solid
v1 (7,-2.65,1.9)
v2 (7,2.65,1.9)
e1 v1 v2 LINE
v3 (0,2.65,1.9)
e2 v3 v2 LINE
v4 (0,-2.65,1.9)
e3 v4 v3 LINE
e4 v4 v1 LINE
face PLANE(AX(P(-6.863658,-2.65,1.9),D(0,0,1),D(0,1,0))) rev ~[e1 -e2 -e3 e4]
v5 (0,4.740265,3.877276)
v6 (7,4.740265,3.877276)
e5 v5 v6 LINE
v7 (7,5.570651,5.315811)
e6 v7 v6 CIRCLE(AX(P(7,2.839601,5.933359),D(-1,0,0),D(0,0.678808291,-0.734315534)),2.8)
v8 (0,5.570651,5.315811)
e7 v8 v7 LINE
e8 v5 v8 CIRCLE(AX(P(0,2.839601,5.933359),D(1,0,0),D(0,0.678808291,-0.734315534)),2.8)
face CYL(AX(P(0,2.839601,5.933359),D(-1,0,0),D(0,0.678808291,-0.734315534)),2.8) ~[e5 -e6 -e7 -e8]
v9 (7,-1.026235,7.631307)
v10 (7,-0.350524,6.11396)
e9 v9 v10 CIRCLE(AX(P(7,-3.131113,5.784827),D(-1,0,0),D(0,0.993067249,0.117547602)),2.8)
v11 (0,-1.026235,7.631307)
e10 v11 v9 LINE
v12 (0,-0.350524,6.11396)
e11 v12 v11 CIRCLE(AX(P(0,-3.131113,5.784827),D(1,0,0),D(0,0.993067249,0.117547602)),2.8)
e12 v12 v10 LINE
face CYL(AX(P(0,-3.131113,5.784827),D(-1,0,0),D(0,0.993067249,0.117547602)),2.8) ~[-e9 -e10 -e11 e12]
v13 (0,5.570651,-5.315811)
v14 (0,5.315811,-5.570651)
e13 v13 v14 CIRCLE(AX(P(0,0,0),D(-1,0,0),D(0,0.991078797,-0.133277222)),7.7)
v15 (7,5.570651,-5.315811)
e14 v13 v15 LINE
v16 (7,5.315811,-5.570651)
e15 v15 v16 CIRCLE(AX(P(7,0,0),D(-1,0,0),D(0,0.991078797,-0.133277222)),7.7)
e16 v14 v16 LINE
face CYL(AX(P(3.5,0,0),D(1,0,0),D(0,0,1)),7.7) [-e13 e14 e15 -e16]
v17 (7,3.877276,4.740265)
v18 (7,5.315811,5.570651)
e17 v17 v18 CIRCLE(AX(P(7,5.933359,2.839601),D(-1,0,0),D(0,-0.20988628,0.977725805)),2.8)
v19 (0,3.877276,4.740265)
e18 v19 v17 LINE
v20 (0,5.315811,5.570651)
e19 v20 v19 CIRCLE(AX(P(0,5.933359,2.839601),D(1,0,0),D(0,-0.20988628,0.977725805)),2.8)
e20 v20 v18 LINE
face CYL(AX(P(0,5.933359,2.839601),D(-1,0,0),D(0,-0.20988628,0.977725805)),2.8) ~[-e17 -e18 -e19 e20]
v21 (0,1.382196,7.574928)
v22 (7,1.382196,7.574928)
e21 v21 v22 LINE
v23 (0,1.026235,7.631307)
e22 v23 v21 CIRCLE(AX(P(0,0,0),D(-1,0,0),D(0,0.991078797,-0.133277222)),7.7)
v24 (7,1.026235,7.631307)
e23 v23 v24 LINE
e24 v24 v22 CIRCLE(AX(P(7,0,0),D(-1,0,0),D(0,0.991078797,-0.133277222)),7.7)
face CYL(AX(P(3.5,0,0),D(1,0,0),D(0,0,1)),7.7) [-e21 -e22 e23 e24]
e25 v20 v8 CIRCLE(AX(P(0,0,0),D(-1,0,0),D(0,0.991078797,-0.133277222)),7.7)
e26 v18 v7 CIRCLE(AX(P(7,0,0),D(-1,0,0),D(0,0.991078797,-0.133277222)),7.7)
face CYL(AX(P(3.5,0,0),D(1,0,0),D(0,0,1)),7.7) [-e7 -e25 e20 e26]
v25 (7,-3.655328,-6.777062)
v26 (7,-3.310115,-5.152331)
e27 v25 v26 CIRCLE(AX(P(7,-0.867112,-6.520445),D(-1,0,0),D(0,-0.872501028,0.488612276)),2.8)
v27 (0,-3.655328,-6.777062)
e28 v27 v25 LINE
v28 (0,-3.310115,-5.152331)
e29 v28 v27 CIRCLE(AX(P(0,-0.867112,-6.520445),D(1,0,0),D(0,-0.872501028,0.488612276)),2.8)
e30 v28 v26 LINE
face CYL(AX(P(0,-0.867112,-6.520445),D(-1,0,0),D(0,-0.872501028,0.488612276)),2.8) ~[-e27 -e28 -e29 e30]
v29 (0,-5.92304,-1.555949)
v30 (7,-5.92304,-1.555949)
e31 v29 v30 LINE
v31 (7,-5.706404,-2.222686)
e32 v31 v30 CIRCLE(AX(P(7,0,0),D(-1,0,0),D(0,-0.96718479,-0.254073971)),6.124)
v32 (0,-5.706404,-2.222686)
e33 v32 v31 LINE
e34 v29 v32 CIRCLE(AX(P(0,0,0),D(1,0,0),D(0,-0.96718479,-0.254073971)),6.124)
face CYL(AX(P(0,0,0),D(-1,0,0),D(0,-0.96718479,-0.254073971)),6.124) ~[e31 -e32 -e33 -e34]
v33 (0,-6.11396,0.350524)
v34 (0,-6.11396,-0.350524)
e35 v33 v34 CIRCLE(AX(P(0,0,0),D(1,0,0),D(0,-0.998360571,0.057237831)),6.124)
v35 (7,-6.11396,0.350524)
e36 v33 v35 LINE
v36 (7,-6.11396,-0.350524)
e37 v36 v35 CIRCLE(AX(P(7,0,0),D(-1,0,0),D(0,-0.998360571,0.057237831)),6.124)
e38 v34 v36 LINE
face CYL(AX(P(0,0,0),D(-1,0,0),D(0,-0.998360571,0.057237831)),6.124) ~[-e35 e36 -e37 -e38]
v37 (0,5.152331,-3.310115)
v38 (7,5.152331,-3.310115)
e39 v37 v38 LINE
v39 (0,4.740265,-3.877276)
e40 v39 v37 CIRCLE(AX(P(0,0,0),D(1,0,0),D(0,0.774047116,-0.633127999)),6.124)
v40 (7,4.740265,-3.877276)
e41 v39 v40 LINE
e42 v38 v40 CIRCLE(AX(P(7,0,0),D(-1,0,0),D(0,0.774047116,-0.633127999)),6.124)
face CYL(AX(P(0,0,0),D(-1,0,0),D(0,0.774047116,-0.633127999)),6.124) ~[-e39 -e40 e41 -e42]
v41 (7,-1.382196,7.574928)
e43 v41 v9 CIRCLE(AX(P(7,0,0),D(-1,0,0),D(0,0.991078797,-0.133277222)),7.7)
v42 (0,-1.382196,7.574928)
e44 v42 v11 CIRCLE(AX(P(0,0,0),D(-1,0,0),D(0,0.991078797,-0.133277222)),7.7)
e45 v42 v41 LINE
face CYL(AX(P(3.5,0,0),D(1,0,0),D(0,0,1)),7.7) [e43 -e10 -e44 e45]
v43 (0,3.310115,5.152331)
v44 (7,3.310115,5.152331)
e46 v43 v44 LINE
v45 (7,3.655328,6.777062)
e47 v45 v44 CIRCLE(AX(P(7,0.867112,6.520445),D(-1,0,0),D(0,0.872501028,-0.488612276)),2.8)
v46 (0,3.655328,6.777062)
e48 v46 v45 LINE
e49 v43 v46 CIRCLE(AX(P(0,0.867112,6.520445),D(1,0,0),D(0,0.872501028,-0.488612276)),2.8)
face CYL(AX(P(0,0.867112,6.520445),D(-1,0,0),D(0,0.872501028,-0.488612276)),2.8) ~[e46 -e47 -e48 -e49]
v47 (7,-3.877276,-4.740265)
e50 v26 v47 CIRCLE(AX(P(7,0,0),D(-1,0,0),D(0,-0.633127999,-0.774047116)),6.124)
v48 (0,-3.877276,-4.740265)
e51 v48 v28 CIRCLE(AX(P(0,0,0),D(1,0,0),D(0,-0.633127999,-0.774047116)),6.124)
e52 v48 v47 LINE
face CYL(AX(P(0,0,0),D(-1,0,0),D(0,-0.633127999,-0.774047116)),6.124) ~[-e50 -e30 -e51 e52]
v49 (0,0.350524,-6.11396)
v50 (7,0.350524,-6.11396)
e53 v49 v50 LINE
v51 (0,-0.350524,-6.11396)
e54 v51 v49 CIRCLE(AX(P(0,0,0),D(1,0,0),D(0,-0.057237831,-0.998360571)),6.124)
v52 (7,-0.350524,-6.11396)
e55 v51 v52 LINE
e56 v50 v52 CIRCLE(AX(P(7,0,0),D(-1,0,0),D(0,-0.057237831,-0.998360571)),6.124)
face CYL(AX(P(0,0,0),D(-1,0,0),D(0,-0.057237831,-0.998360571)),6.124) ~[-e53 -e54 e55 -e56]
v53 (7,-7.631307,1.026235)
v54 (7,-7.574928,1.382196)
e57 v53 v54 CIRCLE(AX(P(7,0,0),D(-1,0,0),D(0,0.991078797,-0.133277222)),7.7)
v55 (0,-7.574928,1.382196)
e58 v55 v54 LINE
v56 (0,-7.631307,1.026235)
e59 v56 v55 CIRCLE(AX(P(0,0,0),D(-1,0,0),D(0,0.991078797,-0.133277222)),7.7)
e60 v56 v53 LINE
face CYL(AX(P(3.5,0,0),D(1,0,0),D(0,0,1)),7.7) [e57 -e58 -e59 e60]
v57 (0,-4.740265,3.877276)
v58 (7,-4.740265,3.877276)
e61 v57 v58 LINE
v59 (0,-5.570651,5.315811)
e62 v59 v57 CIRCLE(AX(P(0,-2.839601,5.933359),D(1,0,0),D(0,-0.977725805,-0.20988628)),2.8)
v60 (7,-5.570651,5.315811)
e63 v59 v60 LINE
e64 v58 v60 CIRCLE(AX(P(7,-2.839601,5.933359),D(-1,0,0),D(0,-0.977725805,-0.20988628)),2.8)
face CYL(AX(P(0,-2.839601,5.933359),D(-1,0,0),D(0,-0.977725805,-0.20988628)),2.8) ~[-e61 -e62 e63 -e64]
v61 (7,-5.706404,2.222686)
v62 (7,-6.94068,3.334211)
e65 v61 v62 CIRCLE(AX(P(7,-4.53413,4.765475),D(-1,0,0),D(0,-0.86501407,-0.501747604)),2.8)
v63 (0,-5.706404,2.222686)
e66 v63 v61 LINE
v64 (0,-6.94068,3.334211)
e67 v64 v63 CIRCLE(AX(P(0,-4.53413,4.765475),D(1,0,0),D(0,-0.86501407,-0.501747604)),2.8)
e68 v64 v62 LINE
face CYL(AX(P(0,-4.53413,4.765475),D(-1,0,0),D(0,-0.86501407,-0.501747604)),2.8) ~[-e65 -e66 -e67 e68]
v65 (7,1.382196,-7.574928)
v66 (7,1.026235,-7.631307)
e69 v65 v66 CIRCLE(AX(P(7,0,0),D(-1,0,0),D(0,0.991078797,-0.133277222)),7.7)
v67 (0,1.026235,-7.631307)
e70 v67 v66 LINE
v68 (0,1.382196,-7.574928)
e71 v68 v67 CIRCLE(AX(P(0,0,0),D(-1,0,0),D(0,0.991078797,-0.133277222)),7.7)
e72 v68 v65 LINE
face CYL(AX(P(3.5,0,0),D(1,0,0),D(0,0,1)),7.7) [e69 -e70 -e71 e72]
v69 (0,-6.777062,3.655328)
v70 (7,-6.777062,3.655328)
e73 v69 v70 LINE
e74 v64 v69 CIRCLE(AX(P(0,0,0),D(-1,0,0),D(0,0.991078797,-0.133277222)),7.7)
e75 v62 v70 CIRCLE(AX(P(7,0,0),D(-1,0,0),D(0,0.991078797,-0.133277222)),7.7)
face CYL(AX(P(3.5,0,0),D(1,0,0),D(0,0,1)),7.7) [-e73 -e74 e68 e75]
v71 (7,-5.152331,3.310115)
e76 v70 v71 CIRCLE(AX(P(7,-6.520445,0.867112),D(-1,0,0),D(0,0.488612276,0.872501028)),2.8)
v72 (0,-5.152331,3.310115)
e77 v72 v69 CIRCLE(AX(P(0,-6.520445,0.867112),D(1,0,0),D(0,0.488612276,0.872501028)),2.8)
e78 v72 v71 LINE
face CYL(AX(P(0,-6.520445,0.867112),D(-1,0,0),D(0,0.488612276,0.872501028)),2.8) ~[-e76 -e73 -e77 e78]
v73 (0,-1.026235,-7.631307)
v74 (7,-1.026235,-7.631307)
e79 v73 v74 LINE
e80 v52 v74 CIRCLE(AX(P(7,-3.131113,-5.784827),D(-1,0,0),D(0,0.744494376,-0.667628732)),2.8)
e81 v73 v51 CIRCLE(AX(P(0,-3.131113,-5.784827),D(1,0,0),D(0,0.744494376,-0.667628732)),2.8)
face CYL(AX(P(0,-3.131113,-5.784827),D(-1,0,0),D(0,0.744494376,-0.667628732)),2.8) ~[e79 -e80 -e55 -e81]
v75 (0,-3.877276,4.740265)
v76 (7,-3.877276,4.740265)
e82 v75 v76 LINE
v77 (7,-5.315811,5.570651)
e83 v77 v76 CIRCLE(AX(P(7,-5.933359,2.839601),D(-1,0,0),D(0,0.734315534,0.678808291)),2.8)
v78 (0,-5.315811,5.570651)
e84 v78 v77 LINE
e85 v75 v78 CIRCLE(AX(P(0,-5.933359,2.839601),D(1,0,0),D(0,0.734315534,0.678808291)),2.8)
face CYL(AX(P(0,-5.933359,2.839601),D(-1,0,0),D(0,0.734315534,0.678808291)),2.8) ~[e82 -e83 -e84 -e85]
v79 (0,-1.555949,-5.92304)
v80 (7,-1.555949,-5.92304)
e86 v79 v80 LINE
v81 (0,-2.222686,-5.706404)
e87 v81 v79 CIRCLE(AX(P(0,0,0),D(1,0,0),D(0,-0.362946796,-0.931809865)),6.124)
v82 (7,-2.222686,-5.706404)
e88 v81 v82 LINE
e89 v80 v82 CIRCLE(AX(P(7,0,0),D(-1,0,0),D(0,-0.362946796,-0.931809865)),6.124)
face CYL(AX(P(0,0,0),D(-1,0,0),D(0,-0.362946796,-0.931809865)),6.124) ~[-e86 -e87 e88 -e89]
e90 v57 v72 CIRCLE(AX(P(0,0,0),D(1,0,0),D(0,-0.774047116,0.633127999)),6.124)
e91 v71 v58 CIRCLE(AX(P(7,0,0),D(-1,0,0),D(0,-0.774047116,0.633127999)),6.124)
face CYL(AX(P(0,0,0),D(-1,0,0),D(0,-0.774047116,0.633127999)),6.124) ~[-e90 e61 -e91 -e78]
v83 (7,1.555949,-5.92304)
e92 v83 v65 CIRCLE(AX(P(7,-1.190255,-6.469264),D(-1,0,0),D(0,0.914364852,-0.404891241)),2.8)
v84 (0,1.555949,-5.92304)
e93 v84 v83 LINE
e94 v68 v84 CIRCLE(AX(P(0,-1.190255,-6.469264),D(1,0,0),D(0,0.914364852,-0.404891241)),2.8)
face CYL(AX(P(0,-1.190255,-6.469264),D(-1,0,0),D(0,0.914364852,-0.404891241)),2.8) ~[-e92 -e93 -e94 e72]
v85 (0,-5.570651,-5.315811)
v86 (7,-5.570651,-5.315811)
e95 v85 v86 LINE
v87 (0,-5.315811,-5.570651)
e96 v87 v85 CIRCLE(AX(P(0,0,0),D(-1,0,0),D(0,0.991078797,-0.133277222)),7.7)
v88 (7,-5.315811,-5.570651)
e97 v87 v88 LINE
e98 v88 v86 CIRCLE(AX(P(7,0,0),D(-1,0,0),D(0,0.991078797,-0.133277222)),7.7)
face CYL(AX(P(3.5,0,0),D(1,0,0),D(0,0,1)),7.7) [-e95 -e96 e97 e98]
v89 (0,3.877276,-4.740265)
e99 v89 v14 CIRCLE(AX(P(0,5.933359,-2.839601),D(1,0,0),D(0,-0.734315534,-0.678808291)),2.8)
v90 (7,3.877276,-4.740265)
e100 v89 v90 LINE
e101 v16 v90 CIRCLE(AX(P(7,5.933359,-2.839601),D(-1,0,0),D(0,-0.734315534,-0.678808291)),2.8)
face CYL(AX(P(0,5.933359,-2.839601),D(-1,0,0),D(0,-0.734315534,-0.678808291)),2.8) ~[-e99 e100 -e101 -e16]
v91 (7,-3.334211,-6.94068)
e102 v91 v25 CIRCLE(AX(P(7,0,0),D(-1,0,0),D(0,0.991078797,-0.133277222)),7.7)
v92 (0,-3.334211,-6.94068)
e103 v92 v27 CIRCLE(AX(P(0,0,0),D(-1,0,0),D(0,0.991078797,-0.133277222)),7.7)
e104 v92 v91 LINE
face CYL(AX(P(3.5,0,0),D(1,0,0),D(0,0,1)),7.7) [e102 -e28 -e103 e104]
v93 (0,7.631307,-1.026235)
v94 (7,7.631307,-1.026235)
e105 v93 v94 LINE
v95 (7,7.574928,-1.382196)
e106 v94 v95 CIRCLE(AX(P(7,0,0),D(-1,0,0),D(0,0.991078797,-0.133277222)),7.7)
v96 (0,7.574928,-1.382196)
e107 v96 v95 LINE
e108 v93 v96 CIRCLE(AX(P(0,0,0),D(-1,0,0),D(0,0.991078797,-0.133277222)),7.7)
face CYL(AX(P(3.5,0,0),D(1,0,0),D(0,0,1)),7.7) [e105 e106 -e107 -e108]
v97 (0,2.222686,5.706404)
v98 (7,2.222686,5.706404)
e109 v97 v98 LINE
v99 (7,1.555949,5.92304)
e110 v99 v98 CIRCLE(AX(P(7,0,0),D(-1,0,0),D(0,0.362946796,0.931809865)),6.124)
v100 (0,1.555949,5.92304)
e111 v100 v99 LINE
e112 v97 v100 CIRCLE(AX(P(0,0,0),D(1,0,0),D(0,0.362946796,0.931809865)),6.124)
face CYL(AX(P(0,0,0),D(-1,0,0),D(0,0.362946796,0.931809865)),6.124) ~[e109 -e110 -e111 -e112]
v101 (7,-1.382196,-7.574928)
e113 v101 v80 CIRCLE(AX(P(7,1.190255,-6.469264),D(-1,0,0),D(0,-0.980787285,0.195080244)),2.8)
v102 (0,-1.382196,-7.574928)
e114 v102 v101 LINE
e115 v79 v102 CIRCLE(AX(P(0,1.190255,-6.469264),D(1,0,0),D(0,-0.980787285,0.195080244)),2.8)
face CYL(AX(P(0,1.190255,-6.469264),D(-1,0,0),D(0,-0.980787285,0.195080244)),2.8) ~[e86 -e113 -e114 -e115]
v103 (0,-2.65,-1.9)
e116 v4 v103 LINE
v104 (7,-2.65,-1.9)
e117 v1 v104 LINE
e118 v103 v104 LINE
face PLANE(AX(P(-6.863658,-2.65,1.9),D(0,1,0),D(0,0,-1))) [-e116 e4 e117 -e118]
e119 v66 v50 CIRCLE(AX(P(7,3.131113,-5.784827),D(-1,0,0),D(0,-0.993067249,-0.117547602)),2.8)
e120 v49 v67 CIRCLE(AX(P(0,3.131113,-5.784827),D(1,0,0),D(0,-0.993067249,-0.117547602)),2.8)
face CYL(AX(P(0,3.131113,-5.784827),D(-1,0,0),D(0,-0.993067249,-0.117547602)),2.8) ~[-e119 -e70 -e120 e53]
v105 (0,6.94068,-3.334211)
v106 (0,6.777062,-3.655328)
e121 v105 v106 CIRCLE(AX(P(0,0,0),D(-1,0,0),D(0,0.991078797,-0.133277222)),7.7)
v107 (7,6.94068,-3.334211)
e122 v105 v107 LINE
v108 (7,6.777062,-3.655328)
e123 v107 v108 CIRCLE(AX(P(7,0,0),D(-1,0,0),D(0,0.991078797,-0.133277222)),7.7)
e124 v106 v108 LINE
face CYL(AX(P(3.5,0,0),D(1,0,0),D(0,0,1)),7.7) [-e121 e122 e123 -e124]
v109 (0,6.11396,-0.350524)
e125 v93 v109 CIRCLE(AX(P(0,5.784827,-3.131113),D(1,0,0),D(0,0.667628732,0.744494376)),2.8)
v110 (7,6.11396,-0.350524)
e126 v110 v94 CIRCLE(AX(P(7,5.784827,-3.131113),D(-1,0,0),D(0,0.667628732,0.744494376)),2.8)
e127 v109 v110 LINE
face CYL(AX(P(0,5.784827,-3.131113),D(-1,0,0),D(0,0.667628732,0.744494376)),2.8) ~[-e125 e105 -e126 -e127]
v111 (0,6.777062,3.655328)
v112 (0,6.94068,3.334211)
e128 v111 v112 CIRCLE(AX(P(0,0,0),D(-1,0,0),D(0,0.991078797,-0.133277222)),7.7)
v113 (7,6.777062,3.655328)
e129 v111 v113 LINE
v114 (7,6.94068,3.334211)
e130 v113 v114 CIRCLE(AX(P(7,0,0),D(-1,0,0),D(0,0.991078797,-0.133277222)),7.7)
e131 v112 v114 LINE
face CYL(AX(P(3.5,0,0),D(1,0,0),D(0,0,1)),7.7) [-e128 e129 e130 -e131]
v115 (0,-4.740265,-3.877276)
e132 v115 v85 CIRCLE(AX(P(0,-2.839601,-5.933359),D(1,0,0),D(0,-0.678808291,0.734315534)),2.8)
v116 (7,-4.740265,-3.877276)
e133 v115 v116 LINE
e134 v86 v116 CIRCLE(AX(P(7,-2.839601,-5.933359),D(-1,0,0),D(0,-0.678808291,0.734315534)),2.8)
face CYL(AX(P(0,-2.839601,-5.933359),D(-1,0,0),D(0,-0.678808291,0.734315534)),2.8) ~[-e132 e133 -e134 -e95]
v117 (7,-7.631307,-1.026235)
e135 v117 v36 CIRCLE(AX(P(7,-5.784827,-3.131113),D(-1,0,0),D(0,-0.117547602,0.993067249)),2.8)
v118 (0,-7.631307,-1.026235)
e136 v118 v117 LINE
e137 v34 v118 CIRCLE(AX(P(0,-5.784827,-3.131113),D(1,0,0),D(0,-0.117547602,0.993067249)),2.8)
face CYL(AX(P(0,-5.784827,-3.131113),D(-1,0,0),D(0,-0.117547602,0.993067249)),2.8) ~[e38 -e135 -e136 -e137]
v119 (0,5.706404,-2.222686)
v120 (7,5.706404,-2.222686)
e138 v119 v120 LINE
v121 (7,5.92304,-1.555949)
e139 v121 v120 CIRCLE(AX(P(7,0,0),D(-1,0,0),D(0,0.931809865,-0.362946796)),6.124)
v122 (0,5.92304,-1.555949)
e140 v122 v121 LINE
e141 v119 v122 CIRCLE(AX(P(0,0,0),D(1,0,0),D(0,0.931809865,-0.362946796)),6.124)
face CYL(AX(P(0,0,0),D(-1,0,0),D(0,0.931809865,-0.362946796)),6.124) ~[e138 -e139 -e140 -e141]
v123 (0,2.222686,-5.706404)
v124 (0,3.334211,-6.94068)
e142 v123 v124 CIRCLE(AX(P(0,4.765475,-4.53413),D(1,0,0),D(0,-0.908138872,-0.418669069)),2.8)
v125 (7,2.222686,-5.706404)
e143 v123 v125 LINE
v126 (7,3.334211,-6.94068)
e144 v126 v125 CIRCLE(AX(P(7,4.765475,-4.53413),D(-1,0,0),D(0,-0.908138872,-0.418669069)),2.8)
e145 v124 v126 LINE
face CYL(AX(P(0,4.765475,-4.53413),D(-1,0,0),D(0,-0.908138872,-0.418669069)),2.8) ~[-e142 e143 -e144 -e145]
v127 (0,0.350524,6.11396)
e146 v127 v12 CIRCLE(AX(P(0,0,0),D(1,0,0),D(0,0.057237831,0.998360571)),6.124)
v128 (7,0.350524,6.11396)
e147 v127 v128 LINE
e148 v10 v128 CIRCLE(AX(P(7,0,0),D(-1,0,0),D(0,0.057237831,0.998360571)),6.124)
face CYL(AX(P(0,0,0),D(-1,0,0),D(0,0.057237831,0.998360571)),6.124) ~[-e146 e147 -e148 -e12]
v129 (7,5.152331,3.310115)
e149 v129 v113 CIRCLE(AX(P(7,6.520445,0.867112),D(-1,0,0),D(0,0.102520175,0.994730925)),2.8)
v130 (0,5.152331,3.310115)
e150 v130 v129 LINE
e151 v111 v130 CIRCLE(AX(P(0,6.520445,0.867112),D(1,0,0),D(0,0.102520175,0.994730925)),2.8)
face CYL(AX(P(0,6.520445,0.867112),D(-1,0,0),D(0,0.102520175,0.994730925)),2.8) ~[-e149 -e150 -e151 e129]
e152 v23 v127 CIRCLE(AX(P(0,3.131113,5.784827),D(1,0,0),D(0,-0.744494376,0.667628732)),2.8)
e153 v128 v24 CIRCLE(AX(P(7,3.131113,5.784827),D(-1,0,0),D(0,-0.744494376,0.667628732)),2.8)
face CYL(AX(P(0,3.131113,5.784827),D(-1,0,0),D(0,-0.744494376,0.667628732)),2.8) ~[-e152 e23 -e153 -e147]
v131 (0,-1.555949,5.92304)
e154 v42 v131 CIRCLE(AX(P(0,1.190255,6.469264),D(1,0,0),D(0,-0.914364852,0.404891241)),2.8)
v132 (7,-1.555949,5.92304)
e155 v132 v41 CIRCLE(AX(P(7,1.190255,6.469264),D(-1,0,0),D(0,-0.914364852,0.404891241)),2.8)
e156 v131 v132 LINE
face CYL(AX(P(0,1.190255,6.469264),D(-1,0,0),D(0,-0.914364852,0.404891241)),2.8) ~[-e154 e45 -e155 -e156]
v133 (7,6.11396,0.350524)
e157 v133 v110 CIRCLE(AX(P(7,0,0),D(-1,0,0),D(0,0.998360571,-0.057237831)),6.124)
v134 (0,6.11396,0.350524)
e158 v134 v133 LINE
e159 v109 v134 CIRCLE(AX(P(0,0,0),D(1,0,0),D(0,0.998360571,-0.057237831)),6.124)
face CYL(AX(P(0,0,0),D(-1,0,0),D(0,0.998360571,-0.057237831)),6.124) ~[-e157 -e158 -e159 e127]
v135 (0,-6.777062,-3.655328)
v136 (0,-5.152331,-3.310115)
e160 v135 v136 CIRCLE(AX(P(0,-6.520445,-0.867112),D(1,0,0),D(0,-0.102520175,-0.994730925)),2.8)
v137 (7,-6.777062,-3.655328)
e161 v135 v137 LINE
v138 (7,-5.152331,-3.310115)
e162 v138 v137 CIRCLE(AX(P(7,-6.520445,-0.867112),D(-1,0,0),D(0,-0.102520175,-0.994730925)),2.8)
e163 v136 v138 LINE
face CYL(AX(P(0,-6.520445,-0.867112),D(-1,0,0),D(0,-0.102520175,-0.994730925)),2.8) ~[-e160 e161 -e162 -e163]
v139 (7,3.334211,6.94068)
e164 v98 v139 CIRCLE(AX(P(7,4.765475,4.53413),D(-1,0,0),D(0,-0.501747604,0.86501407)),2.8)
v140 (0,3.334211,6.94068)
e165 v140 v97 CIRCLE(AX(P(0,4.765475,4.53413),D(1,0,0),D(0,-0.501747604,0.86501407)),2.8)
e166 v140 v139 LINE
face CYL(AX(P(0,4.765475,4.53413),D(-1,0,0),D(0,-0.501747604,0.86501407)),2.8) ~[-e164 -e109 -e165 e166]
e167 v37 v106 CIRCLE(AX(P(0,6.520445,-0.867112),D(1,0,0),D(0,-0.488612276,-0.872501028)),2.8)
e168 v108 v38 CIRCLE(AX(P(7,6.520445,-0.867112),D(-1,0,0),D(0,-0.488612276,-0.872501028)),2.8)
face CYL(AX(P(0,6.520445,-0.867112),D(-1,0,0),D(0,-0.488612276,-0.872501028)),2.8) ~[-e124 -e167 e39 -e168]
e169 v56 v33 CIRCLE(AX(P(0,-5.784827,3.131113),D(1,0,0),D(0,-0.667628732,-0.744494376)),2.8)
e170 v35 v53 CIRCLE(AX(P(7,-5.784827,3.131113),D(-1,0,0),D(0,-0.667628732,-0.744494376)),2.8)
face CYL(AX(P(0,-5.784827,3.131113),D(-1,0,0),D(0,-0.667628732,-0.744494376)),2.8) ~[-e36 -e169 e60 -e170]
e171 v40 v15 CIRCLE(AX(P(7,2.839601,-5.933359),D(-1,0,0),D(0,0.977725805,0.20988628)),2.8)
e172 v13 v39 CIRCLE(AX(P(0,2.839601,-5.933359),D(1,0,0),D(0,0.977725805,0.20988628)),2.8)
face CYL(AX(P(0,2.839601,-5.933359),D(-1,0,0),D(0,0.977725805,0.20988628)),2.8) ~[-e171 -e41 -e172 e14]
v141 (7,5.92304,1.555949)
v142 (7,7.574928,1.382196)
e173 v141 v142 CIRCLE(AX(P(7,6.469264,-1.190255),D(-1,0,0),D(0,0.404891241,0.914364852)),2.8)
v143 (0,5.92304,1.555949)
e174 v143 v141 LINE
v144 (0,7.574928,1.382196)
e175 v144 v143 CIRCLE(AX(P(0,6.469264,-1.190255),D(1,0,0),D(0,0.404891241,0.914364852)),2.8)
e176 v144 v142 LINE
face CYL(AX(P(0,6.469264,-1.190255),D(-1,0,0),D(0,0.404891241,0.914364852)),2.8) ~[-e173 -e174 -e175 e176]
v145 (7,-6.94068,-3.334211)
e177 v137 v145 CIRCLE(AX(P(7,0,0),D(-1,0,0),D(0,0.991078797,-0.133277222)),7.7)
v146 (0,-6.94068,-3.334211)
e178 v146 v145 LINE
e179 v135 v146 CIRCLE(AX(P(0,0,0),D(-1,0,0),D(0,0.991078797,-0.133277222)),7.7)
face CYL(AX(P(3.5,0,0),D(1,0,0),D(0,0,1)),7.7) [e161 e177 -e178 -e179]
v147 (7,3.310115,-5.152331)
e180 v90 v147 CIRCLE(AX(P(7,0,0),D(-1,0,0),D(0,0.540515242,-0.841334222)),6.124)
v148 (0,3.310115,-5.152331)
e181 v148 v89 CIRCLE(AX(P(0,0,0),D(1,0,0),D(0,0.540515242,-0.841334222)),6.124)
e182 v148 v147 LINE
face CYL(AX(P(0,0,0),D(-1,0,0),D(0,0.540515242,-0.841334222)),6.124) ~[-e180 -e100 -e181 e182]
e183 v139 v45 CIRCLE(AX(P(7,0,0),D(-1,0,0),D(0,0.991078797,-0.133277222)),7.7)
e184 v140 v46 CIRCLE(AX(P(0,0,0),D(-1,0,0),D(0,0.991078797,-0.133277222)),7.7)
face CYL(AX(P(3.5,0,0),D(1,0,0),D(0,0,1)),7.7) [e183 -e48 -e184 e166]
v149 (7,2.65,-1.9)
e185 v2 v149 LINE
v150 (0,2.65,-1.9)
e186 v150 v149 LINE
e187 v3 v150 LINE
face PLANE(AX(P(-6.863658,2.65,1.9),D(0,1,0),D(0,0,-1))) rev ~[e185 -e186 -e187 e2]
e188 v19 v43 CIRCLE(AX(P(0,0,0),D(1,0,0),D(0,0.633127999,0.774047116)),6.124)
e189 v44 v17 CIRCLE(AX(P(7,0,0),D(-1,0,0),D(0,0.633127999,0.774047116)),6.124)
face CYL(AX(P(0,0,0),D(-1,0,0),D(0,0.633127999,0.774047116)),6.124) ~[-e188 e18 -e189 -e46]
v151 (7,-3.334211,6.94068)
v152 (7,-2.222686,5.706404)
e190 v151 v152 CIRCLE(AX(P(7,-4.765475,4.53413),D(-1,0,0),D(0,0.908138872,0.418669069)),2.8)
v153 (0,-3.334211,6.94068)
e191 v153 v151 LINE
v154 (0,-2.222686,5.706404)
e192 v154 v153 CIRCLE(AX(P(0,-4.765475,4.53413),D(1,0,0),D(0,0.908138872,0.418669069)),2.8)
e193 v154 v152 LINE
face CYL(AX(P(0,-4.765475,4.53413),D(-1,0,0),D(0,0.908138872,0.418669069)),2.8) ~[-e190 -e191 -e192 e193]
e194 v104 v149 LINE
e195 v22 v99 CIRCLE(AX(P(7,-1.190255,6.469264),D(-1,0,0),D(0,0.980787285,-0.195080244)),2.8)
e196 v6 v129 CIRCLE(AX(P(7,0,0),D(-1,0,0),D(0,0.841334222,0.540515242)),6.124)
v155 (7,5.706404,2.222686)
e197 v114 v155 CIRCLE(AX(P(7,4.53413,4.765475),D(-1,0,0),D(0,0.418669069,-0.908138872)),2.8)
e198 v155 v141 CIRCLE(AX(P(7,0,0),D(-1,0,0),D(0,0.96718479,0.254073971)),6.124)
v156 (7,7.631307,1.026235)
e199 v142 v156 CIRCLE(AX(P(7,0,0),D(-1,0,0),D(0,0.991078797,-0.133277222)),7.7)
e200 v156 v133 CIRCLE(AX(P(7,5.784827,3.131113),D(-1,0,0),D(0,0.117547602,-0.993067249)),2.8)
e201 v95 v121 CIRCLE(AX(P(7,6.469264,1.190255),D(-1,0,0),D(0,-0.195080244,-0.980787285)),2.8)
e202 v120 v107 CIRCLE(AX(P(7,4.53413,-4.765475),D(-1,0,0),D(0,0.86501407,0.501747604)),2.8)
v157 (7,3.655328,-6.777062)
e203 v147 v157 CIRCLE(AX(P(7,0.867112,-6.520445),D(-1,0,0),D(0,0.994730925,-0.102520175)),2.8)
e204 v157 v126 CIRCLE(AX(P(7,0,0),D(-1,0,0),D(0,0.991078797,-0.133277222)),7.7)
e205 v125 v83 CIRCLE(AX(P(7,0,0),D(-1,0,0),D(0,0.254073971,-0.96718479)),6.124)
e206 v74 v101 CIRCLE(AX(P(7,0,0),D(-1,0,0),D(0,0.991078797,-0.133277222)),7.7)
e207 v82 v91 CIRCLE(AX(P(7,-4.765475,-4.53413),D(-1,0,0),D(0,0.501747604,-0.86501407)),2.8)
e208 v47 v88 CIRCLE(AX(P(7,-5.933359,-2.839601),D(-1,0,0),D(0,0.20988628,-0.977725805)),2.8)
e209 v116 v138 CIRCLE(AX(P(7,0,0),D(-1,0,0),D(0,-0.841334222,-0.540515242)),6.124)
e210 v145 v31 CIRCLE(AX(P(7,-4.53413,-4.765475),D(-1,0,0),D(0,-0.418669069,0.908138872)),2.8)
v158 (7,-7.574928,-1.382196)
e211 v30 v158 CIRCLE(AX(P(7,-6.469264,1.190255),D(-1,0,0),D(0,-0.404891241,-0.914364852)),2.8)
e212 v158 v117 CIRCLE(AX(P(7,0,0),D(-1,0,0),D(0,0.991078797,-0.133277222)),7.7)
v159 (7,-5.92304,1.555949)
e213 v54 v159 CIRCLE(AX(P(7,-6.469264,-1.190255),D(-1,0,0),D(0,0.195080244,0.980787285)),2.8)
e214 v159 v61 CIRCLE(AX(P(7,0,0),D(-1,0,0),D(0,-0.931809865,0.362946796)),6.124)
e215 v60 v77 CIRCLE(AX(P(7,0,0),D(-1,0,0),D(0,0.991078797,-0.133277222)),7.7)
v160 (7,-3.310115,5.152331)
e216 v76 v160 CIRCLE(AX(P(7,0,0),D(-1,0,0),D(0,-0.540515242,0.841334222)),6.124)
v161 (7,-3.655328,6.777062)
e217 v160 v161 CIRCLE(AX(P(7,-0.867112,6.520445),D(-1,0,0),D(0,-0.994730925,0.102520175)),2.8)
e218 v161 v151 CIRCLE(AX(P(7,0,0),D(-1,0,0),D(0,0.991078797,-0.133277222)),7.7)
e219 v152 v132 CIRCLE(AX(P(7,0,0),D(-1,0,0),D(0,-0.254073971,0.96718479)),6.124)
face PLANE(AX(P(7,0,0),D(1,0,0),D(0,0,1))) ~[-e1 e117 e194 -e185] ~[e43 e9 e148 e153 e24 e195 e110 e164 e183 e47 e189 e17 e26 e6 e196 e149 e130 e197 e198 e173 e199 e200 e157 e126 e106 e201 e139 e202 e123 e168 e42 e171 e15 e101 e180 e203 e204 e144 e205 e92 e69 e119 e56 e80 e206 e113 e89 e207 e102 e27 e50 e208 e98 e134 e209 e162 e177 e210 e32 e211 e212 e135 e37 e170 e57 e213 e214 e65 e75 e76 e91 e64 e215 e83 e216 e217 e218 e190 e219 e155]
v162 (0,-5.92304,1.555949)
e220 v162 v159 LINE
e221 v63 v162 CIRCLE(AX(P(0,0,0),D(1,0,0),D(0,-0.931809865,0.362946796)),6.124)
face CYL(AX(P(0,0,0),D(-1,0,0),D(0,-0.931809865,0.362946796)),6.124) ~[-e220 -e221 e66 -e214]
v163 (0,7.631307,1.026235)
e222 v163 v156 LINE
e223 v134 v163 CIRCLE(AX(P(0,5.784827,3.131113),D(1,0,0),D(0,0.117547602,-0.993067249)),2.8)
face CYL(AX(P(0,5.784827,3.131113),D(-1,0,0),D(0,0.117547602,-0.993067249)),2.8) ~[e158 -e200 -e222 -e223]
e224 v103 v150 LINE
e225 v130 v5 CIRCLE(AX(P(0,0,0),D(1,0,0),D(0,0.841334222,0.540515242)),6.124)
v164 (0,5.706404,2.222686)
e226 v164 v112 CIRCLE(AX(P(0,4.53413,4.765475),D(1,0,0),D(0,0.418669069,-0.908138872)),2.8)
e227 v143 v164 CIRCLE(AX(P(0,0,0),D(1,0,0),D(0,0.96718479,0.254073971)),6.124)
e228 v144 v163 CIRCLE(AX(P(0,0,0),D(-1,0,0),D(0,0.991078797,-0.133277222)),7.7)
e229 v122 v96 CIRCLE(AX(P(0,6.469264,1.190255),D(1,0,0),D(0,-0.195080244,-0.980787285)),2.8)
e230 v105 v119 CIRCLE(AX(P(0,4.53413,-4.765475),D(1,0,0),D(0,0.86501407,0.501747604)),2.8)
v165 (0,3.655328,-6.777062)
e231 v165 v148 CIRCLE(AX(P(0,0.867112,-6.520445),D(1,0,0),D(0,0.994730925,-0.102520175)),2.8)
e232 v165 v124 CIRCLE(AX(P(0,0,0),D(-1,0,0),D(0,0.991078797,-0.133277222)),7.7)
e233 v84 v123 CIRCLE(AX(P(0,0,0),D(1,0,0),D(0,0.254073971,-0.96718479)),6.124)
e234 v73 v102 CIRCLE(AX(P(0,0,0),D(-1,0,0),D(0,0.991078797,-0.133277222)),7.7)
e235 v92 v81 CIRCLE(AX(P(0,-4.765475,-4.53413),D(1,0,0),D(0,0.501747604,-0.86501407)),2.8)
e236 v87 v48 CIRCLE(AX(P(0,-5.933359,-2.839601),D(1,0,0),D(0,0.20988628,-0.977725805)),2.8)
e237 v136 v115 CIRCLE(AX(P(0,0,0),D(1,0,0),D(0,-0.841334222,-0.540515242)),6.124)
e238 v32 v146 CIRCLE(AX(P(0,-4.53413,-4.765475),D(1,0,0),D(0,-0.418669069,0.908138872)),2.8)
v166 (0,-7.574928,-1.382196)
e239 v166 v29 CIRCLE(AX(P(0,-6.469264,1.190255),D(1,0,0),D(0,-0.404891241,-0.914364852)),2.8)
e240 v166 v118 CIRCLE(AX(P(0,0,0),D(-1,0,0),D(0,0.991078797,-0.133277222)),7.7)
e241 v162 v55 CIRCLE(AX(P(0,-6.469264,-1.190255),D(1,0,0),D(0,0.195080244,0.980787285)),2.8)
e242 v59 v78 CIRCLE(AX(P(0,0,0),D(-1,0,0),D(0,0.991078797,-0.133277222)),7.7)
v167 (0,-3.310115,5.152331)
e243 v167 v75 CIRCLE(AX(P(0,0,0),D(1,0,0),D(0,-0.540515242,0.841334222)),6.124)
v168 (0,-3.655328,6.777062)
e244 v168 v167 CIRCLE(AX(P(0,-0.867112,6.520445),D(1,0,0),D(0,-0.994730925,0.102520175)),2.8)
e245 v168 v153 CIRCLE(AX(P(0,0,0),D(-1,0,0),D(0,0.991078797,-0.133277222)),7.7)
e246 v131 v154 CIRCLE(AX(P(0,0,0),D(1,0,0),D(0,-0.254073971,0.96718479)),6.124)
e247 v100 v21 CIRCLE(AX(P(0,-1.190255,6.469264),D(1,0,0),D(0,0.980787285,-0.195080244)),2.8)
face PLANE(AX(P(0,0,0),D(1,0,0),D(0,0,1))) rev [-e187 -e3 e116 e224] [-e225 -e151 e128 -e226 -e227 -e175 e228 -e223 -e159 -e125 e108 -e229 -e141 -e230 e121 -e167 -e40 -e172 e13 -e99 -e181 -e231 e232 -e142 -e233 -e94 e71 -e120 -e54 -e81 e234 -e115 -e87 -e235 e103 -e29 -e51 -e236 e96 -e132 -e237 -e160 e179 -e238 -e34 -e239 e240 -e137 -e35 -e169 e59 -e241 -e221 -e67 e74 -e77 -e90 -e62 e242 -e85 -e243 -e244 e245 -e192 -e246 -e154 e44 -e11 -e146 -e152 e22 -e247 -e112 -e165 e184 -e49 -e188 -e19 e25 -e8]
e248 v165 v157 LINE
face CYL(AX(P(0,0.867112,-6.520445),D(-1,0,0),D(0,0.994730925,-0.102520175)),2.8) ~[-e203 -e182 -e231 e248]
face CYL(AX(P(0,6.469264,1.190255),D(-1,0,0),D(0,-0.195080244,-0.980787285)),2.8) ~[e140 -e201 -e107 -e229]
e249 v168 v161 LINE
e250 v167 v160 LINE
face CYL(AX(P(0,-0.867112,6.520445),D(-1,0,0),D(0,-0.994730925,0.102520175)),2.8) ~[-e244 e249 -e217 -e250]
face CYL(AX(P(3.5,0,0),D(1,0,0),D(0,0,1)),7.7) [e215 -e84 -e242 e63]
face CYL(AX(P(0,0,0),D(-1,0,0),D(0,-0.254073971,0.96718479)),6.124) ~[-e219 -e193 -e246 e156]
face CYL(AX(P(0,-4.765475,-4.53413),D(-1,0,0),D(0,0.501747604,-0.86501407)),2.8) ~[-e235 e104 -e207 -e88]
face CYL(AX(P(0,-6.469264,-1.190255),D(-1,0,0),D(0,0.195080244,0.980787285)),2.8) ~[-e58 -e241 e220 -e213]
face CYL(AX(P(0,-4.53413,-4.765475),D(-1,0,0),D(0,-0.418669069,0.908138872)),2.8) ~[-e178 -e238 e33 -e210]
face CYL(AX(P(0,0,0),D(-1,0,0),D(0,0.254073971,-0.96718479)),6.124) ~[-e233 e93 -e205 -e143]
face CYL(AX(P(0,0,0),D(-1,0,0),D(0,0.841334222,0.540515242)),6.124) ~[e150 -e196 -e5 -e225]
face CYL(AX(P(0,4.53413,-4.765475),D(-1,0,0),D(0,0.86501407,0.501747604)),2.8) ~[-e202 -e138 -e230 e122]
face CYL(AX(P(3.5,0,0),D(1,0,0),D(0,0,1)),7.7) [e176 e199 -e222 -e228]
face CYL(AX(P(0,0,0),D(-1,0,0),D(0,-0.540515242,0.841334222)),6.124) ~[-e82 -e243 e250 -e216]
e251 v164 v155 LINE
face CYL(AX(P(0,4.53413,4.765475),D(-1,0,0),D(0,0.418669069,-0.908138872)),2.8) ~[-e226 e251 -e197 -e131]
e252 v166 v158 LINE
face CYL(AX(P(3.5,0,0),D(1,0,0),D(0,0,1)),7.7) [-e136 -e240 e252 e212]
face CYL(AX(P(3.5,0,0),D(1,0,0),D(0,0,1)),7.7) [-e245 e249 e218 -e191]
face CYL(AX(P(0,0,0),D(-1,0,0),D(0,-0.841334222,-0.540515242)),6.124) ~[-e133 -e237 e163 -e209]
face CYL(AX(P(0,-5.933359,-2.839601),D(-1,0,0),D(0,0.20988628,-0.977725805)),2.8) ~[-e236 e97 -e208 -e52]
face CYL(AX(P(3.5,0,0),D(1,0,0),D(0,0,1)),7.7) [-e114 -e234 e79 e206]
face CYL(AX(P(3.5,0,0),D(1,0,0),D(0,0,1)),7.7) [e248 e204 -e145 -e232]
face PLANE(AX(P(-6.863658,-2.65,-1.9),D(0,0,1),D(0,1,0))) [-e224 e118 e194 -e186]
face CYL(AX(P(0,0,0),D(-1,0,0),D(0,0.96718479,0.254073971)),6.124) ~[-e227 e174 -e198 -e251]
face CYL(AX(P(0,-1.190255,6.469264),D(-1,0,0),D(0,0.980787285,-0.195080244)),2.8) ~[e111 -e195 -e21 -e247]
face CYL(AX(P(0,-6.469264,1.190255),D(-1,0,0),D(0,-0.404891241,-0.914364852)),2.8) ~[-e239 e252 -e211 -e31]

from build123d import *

# Parameters (mm, degrees)
BASPROSKE_W             = 7
BASPROSKE_H             = 7.7
TOOTHCUT_DEPTH          = 13.945269406
TEETHCUTS_COUNT         = 20
TEETHCUTS_ANGLE         = 342
BORSKE_R                = 0.5
BORE_DEPTH              = 50.0000508
CUT_EXTRUDE1_DEPTH      = 13.86365753
CUT_EXTRUDE1_DEPTH_BACK = 13.86365753
SKETCH1_W               = 3.8
SKETCH1_H               = 5.3


with BuildPart() as part:
    # BasProSke → Base-Revolve (revolve)
    with BuildSketch(Plane(origin=(0, 0, 0), x_dir=(1, 0, 0), z_dir=(0, 1, 0)), mode=Mode.PRIVATE) as base_revolve_sk:
        with Locations((3.5, 3.85)):
            Rectangle(BASPROSKE_W, BASPROSKE_H)
    revolve(base_revolve_sk.sketch.rotate(Axis((-10, 0, 0), (1, 0, 0)), 180), axis=Axis((-10, 0, 0), (1, 0, 0)))

    # TooCutSke → ToothCut (cut, through all)
    with BuildSketch(Plane(origin=(0, 0, 0), x_dir=(0, 0, -1), z_dir=(1, 0, 0))):
        with BuildLine():
            ThreePointArc((0.350524468, 6.11396014), (0, 6.124), (-0.350524468, 6.11396014))
            ThreePointArc((-0.350524468, 6.11396014), (-0.579534642, 6.937844235), (-1.04652851, 7.654187301))
            ThreePointArc((-1.04652851, 7.654187301), (0, 7.7254), (1.04652851, 7.654187301))
            ThreePointArc((1.04652851, 7.654187301), (0.579534642, 6.937844235), (0.350524468, 6.11396014))
        make_face()
    toothcut = extrude(amount=TOOTHCUT_DEPTH, mode=Mode.SUBTRACT)

    # TeethCuts: ToothCut ×20 about axis
    teethcuts_axis = Axis((-10, 0, 0), (1, 0, 0))
    for i in range(1, TEETHCUTS_COUNT):
        add(toothcut.rotate(teethcuts_axis, i * TEETHCUTS_ANGLE / (TEETHCUTS_COUNT - 1)), mode=Mode.SUBTRACT)

    # BorSke → Bore (cut, symmetric)
    with BuildSketch(Plane(origin=(0, 0, 0), x_dir=(0, 0, -1), z_dir=(1, 0, 0))):
        with Locations(Location((0, 0, 0), (0, 0, 180))):
            Circle(BORSKE_R)
    extrude(amount=BORE_DEPTH, both=True, mode=Mode.SUBTRACT)

    # Sketch1 → Cut-Extrude1 (cut, two sides: drawn at the far end of the back side and taken through both)
    with BuildSketch(Plane(origin=(7, 0, 0), x_dir=(0, 0, -1), z_dir=(1, 0, 0)).offset(-CUT_EXTRUDE1_DEPTH_BACK)):
        Rectangle(SKETCH1_W, SKETCH1_H)
    extrude(amount=CUT_EXTRUDE1_DEPTH + CUT_EXTRUDE1_DEPTH_BACK, mode=Mode.SUBTRACT)


solid = part.part
